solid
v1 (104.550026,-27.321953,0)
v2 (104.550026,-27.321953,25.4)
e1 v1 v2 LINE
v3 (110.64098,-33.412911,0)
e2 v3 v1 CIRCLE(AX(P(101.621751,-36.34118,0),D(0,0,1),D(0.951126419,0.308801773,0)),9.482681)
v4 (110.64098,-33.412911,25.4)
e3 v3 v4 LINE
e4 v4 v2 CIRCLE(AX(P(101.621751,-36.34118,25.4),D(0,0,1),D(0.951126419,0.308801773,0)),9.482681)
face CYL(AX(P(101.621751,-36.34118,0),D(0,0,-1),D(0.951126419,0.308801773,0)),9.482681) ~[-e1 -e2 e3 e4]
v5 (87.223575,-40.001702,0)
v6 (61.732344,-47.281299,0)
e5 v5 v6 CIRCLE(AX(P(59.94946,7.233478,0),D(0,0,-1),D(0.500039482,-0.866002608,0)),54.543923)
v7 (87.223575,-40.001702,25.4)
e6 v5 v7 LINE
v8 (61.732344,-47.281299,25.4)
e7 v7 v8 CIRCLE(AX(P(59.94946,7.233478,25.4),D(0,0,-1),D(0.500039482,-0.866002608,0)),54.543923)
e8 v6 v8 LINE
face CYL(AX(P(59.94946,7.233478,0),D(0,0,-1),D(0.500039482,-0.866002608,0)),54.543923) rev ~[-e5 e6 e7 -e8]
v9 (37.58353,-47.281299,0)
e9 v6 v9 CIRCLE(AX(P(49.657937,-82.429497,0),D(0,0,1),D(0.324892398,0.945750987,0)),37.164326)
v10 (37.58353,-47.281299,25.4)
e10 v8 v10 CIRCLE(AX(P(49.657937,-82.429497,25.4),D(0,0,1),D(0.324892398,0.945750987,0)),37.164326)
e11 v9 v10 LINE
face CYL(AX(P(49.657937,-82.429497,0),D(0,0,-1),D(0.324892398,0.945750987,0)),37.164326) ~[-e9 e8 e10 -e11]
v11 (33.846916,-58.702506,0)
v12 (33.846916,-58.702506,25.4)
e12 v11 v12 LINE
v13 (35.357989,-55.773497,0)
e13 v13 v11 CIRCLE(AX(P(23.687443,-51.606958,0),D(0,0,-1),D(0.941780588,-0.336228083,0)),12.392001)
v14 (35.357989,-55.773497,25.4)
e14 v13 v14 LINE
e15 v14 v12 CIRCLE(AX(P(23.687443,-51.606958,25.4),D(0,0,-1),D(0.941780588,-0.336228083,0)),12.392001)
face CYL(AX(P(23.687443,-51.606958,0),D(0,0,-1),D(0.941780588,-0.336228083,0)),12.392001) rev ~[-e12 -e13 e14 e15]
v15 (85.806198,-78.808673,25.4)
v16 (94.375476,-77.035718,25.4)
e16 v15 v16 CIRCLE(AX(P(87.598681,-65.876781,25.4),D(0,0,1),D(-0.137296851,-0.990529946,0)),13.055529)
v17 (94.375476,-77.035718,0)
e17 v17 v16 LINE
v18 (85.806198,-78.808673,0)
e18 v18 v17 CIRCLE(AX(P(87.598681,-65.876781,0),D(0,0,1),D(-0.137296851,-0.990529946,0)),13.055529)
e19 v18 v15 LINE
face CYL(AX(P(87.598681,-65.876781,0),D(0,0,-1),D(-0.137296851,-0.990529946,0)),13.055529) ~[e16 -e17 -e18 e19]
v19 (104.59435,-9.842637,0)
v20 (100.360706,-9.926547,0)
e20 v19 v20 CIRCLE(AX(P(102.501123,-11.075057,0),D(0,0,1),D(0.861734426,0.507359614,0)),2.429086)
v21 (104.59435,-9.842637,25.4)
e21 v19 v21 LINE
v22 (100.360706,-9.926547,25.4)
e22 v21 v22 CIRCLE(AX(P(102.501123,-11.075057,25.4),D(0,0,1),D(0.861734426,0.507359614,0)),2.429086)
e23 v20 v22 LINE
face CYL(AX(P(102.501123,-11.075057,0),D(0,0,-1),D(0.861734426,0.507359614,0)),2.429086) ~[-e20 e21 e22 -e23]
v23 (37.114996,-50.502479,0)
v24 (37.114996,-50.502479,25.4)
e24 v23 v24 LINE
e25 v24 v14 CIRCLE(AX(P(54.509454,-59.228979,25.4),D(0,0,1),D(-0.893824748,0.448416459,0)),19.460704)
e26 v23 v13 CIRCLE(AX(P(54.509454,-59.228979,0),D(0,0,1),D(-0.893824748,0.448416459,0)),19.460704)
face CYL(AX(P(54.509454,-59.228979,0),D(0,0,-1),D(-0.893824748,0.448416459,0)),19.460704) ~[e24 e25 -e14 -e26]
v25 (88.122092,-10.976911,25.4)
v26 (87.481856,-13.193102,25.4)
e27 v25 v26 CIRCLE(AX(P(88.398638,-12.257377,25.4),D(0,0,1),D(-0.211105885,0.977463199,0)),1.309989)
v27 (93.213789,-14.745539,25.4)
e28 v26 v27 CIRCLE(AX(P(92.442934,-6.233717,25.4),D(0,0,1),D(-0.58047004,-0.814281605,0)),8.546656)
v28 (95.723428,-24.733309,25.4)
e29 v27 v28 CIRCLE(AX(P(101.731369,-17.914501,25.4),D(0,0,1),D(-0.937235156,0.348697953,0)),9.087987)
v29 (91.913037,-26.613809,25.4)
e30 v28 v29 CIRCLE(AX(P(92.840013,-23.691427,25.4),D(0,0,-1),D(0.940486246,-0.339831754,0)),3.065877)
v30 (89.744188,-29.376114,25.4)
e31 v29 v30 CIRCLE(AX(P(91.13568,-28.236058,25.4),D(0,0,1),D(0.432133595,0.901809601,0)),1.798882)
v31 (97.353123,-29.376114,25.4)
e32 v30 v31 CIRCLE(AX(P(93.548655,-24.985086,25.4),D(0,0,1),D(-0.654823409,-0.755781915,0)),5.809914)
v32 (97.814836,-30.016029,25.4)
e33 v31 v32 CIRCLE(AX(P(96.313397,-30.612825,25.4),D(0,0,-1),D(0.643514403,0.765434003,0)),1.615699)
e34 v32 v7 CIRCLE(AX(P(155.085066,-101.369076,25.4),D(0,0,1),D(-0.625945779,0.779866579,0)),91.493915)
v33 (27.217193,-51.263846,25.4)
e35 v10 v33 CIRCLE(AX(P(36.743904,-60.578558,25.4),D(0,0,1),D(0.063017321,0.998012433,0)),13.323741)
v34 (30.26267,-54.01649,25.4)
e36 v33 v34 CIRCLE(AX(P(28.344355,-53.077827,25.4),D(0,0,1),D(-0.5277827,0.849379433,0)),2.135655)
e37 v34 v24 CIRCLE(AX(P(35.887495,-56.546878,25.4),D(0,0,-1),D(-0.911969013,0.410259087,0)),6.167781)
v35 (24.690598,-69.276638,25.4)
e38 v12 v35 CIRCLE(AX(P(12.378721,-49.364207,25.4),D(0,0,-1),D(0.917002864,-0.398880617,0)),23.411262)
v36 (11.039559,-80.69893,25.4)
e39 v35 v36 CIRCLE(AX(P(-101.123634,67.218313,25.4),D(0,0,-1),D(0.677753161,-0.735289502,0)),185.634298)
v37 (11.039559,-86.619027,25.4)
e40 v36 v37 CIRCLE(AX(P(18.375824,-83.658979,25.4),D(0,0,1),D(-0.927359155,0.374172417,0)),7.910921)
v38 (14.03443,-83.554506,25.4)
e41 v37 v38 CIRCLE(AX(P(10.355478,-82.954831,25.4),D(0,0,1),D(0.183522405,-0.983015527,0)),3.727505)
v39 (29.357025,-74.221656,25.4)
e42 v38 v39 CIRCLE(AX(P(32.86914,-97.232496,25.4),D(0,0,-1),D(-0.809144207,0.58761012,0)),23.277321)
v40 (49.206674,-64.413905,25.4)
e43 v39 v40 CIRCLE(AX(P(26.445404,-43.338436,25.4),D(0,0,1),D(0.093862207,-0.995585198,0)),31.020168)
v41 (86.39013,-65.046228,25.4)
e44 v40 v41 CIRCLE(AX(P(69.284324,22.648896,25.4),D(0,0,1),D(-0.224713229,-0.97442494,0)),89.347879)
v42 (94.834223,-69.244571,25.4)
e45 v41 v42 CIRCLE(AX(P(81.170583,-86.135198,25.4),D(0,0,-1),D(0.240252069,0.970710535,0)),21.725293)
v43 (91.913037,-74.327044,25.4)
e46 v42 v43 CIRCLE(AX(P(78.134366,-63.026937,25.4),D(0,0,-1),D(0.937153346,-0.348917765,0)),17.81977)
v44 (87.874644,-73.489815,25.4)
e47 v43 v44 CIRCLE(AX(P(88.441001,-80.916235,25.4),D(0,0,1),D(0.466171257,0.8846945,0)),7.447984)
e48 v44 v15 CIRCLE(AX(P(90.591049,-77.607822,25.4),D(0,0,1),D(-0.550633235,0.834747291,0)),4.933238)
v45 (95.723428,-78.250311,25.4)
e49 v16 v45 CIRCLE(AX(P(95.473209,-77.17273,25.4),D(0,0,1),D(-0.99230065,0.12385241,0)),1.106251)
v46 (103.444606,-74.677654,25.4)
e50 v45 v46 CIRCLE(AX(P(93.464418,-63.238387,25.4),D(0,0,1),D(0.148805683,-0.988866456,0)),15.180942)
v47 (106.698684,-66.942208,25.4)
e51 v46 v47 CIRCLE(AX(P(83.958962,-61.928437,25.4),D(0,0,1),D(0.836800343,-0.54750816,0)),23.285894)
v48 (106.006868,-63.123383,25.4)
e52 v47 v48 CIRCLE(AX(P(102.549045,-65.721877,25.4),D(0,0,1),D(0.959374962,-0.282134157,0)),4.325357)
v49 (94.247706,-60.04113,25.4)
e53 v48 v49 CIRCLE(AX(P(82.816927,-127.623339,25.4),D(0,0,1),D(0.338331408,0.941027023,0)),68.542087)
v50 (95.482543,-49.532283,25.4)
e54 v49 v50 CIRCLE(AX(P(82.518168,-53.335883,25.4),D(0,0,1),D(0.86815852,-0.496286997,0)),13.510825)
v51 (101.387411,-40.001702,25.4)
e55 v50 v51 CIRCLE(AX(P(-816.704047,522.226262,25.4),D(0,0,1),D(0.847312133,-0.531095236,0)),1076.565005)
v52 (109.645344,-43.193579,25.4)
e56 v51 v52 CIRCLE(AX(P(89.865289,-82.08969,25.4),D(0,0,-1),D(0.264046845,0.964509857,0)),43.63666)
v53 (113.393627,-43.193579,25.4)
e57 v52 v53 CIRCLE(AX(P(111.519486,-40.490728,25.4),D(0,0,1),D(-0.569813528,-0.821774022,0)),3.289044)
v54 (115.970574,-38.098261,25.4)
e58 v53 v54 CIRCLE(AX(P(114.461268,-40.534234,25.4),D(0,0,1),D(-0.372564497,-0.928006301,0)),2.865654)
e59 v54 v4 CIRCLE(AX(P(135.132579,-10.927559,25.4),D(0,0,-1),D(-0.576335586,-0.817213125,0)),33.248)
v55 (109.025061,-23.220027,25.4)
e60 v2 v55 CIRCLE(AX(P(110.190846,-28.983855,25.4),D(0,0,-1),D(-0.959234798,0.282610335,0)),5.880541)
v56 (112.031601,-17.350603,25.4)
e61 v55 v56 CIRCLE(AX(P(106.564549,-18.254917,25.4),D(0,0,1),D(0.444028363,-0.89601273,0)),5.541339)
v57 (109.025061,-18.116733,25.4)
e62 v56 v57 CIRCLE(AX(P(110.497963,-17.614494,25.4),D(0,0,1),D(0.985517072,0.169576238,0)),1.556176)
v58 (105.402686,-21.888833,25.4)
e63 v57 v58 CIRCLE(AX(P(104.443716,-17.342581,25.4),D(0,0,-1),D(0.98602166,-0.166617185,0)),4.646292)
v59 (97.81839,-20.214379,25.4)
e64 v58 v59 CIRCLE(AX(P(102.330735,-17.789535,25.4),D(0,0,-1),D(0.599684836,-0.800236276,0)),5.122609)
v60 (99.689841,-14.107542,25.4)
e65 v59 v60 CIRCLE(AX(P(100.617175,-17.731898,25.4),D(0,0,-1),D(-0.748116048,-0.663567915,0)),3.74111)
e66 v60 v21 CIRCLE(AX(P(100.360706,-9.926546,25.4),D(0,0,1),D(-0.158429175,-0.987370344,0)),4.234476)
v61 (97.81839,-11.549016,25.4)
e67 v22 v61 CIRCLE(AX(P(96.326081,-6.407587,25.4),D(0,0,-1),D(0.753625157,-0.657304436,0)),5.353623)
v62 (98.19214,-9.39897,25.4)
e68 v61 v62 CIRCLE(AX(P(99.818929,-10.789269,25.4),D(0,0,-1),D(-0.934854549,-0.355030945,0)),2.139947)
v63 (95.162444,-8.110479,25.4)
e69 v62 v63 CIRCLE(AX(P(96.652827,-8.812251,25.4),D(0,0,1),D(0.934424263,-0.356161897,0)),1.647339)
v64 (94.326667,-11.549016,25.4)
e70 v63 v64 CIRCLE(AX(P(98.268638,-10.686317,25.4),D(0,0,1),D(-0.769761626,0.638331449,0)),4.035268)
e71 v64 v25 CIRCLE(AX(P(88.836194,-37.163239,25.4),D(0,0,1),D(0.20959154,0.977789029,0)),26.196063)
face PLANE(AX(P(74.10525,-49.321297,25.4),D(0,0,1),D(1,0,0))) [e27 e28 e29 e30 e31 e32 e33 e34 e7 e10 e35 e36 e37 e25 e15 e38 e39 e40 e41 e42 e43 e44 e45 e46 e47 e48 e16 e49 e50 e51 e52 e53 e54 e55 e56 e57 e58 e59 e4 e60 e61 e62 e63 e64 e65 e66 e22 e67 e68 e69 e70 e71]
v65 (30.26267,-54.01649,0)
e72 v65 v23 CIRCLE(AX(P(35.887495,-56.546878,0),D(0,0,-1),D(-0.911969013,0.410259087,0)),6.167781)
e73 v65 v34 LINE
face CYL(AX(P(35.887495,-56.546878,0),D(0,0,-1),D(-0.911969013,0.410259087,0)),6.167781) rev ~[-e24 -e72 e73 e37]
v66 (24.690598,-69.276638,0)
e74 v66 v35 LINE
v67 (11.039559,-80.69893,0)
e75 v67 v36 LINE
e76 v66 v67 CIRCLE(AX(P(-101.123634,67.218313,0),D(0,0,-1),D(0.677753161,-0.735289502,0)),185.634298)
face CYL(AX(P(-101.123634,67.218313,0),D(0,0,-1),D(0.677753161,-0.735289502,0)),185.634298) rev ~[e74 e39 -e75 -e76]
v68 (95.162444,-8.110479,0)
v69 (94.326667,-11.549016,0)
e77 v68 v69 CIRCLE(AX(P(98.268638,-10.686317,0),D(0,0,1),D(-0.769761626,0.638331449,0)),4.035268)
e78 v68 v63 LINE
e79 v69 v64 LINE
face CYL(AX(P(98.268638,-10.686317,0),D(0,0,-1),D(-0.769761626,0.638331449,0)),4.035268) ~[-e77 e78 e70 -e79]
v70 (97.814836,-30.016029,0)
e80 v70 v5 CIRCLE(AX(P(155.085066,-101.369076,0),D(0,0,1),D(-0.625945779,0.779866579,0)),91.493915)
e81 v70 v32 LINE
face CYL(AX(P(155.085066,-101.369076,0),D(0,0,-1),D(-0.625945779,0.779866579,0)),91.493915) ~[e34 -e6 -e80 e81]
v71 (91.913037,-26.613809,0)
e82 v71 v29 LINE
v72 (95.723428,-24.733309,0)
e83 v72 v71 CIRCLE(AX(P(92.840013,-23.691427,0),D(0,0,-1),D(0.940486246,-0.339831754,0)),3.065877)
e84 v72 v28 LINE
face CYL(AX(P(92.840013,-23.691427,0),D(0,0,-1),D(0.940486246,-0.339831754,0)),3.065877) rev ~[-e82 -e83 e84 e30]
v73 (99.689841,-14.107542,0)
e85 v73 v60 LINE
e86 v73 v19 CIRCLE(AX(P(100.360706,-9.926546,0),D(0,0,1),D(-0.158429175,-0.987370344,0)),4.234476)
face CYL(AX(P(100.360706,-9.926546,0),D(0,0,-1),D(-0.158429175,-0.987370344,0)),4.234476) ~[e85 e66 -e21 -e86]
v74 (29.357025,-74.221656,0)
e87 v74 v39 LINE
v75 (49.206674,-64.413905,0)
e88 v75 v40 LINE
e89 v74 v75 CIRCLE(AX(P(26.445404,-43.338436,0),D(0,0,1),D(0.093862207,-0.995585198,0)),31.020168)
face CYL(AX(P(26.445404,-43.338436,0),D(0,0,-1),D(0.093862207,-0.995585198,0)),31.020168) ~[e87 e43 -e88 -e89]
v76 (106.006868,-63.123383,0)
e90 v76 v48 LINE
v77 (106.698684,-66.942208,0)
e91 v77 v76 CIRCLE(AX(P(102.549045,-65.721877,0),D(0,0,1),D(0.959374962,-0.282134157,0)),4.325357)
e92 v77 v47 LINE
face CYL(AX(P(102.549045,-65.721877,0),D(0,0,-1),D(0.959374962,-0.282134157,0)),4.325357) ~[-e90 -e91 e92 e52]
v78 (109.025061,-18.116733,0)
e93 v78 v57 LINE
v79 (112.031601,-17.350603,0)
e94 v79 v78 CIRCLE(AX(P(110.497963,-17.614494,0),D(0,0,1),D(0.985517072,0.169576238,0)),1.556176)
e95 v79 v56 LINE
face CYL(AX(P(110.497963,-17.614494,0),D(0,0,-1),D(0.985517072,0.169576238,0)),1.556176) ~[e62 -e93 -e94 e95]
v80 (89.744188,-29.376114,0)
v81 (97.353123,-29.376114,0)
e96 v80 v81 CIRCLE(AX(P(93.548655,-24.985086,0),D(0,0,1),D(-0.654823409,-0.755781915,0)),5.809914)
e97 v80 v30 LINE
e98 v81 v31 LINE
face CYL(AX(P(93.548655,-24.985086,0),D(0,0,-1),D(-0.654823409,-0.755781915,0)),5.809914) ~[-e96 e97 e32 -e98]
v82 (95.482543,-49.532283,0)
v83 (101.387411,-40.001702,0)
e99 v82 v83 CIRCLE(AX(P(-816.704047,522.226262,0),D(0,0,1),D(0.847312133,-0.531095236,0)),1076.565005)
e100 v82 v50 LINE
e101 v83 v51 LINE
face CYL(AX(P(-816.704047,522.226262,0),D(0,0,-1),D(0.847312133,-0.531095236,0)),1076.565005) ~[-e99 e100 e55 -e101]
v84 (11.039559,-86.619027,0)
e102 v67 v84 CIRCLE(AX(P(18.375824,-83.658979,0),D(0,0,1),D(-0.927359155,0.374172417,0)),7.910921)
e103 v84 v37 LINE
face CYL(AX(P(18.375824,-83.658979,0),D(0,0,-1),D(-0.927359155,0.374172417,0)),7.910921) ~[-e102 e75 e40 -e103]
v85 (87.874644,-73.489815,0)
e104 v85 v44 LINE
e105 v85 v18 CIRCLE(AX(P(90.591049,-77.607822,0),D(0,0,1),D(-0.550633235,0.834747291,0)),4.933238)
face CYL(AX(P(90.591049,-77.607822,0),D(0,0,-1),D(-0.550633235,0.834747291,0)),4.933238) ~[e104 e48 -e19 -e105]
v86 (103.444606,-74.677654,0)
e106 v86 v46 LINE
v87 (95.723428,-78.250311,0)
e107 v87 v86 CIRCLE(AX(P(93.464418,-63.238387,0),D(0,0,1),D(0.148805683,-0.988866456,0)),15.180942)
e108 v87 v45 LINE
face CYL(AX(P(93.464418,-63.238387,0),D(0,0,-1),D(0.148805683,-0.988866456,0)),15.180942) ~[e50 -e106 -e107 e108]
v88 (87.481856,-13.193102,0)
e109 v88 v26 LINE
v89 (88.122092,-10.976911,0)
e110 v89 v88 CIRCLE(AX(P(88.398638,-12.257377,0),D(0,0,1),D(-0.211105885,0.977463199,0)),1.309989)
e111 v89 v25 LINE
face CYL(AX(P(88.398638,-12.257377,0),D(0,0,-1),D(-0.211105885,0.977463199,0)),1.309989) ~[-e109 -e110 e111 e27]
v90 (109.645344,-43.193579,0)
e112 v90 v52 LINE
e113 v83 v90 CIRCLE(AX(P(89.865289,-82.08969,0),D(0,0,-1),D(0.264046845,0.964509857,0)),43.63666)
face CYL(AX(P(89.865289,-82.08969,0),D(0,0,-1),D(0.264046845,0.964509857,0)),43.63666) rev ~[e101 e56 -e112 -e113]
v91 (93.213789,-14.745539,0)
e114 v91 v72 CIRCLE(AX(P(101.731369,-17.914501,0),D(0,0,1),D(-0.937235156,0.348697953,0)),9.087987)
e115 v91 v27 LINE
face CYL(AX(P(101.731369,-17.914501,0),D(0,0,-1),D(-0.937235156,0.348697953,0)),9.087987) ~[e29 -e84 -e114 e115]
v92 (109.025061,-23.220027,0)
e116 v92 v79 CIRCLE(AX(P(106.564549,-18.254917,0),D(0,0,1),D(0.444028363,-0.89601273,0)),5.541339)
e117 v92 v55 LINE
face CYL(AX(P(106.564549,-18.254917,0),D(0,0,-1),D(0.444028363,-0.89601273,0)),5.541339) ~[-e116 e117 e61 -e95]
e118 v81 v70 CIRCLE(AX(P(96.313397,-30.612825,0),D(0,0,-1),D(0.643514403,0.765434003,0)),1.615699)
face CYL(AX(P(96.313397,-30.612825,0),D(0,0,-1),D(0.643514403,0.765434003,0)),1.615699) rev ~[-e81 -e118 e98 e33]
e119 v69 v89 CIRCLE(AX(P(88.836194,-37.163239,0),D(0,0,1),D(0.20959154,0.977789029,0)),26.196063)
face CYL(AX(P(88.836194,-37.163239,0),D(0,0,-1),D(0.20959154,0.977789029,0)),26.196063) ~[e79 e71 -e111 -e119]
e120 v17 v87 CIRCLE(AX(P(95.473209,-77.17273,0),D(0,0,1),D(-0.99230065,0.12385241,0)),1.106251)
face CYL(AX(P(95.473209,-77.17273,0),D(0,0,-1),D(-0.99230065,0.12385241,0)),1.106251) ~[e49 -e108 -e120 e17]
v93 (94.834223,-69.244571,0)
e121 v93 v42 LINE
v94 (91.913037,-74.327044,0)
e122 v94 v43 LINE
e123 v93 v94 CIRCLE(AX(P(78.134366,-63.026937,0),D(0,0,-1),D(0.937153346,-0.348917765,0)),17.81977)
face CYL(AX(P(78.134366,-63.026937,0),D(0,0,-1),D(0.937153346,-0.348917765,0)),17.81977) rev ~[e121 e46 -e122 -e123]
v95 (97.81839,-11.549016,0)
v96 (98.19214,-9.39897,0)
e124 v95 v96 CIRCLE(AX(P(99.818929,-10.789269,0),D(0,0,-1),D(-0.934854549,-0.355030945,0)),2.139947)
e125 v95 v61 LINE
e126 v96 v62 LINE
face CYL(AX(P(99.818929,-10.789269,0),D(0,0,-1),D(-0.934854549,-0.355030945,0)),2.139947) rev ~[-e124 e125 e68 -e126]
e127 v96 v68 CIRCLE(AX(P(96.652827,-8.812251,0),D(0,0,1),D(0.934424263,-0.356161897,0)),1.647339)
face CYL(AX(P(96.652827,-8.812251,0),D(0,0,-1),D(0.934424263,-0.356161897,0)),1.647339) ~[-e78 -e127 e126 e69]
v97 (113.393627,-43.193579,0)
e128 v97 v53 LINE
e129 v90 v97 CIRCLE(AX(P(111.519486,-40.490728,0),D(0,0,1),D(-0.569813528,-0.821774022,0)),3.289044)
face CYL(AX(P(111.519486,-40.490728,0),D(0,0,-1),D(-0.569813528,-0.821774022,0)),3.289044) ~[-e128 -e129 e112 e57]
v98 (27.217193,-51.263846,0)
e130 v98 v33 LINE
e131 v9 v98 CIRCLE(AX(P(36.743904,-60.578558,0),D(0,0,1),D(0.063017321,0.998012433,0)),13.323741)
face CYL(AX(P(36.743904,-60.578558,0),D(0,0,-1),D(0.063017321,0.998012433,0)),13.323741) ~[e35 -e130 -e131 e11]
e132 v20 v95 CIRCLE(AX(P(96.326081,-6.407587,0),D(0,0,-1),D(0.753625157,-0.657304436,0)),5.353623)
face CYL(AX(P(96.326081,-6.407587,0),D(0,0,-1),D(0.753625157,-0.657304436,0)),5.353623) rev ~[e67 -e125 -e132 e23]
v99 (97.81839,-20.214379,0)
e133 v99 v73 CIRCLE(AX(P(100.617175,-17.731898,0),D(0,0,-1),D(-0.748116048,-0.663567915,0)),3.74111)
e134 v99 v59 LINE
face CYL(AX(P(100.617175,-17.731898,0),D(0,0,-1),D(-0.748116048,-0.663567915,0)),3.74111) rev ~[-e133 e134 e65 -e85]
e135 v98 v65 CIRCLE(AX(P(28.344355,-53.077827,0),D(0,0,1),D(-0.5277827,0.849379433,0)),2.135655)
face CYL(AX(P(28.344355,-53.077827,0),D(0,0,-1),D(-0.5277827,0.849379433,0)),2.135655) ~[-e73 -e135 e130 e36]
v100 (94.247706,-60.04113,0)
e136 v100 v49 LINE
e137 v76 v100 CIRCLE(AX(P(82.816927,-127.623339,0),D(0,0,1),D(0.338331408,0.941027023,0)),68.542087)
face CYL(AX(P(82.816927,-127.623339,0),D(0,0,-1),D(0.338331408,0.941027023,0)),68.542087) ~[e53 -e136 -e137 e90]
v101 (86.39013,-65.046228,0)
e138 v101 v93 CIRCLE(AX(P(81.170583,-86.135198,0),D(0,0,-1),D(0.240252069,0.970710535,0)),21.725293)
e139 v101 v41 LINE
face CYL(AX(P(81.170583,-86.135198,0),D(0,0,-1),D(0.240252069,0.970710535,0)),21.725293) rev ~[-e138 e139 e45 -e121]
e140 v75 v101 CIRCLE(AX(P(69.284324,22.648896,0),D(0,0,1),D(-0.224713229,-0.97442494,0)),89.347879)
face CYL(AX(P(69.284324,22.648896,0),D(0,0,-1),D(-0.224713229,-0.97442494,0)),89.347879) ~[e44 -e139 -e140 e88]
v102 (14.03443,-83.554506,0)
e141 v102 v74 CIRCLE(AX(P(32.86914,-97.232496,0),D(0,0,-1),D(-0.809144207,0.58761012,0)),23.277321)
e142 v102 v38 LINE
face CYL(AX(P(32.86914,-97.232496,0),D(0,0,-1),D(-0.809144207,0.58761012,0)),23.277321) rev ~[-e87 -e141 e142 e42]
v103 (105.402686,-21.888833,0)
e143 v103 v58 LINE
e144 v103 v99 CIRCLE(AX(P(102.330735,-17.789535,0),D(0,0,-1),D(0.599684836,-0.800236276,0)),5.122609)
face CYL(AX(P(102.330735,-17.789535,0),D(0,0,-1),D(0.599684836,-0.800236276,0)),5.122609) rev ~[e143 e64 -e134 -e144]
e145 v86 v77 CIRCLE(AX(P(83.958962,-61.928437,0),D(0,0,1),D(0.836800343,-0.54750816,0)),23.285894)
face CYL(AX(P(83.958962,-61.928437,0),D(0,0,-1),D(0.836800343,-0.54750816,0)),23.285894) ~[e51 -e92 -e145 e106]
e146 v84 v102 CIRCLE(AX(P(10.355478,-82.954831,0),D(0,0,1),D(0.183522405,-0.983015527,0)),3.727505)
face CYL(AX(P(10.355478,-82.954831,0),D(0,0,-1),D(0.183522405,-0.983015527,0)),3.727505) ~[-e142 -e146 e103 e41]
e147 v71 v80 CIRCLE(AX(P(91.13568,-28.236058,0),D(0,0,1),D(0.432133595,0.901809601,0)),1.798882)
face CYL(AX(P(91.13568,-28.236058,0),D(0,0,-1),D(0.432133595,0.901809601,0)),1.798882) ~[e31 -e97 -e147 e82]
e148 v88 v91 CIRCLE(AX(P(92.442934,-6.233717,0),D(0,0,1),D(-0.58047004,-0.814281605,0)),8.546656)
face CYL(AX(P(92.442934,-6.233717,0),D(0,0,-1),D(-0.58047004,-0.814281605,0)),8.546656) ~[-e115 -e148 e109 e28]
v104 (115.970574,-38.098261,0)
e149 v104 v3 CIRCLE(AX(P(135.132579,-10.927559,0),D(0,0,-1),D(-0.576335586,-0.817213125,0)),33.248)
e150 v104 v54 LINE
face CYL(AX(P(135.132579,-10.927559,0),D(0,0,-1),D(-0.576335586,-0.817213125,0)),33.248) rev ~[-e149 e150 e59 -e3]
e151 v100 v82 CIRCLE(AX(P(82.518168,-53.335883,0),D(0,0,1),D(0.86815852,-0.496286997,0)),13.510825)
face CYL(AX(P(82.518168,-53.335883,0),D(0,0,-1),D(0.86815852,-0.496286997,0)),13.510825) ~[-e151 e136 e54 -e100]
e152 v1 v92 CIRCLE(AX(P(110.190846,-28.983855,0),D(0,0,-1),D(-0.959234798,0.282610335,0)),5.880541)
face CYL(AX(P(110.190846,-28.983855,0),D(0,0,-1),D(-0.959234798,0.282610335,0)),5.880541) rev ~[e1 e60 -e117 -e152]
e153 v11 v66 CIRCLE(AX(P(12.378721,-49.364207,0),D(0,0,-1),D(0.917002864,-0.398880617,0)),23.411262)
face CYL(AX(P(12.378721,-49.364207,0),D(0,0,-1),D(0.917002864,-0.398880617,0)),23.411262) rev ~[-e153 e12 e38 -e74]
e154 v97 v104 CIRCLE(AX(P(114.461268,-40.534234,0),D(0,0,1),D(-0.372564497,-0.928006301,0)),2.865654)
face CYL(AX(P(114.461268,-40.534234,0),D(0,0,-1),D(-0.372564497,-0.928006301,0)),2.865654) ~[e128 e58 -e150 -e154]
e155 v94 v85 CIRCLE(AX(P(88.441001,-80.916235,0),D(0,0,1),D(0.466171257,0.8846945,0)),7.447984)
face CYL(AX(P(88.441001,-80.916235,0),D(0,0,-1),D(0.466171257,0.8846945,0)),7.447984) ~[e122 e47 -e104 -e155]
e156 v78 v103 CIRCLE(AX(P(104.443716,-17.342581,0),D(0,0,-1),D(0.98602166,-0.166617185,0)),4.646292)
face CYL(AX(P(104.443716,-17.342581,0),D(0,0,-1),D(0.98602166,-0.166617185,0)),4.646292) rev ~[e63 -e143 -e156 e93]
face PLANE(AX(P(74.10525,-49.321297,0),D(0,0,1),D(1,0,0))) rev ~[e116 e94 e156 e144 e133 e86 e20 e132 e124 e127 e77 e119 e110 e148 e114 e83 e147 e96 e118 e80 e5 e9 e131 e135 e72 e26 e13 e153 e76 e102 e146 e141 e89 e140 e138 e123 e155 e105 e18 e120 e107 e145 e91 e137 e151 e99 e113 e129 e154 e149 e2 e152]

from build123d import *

# Parameters (mm, degrees)
F1_DEPTH = 25.4


with BuildPart() as f1:
    # F0 (on Top) → F1 (new body)
    with BuildSketch(Plane.XY):
        with BuildLine():
            ThreePointArc((35.357989, -55.773497), (34.700263, -57.288462), (33.846916, -58.702506))
            ThreePointArc((33.846916, -58.702506), (30.076924, -64.689377), (24.690598, -69.276638))
            ThreePointArc((24.690598, -69.276638), (18.00206, -75.151493), (11.039559, -80.69893))
            ThreePointArc((11.039559, -80.69893), (10.464903, -83.658978), (11.039559, -86.619027))
            ThreePointArc((11.039559, -86.619027), (13.021343, -85.560107), (14.03443, -83.554506))
            ThreePointArc((14.03443, -83.554506), (20.760438, -77.35253), (29.357025, -74.221656))
            ThreePointArc((29.357025, -74.221656), (40.186668, -71.149018), (49.206674, -64.413905))
            ThreePointArc((49.206674, -64.413905), (67.765139, -66.686066), (86.39013, -65.046228))
            ThreePointArc((86.39013, -65.046228), (90.842719, -66.681712), (94.834223, -69.244571))
            ThreePointArc((94.834223, -69.244571), (93.58406, -71.906754), (91.913037, -74.327044))
            ThreePointArc((91.913037, -74.327044), (89.952947, -73.623328), (87.874644, -73.489815))
            ThreePointArc((87.874644, -73.489815), (85.993248, -75.819788), (85.806198, -78.808673))
            ThreePointArc((85.806198, -78.808673), (90.243806, -78.661543), (94.375476, -77.035718))
            ThreePointArc((94.375476, -77.035718), (94.732683, -77.994564), (95.723428, -78.250311))
            ThreePointArc((95.723428, -78.250311), (99.839405, -77.015924), (103.444606, -74.677654))
            ThreePointArc((103.444606, -74.677654), (105.422994, -70.957733), (106.698684, -66.942208))
            ThreePointArc((106.698684, -66.942208), (106.805126, -64.950848), (106.006868, -63.123383))
            ThreePointArc((106.006868, -63.123383), (100.195754, -61.321046), (94.247706, -60.04113))
            ThreePointArc((94.247706, -60.04113), (95.936674, -54.912618), (95.482543, -49.532283))
            ThreePointArc((95.482543, -49.532283), (98.447384, -44.774679), (101.387411, -40.001702))
            ThreePointArc((101.387411, -40.001702), (105.597536, -41.38767), (109.645344, -43.193579))
            ThreePointArc((109.645344, -43.193579), (111.519486, -43.779772), (113.393627, -43.193579))
            ThreePointArc((113.393627, -43.193579), (117.01848, -41.827539), (115.970574, -38.098261))
            ThreePointArc((115.970574, -38.098261), (113.180417, -35.898183), (110.64098, -33.412911))
            ThreePointArc((110.64098, -33.412911), (108.327022, -29.635914), (104.550026, -27.321953))
            ThreePointArc((104.550026, -27.321953), (106.217319, -24.648898), (109.025061, -23.220027))
            ThreePointArc((109.025061, -23.220027), (111.496496, -20.781246), (112.031601, -17.350603))
            ThreePointArc((112.031601, -17.350603), (110.113696, -16.106507), (109.025061, -18.116733))
            ThreePointArc((109.025061, -18.116733), (107.794978, -20.560822), (105.402686, -21.888833))
            ThreePointArc((105.402686, -21.888833), (101.226365, -22.791684), (97.81839, -20.214379))
            ThreePointArc((97.81839, -20.214379), (97.040255, -16.635745), (99.689841, -14.107542))
            ThreePointArc((99.689841, -14.107542), (103.139321, -13.121868), (104.59435, -9.842637))
            ThreePointArc((104.59435, -9.842637), (102.452988, -8.646448), (100.360706, -9.926547))
            ThreePointArc((100.360706, -9.926547), (99.206159, -10.920505), (97.81839, -11.549016))
            ThreePointArc((97.81839, -11.549016), (97.7106, -10.42277), (98.19214, -9.39897))
            ThreePointArc((98.19214, -9.39897), (97.297537, -7.296311), (95.162444, -8.110479))
            ThreePointArc((95.162444, -8.110479), (94.347536, -9.733247), (94.326667, -11.549016))
            ThreePointArc((94.326667, -11.549016), (91.24145, -11.077832), (88.122092, -10.976911))
            ThreePointArc((88.122092, -10.976911), (87.140114, -11.893801), (87.481856, -13.193102))
            ThreePointArc((87.481856, -13.193102), (90.208654, -14.483161), (93.213789, -14.745539))
            ThreePointArc((93.213789, -14.745539), (92.91737, -20.129205), (95.723428, -24.733309))
            ThreePointArc((95.723428, -24.733309), (94.196841, -26.440721), (91.913037, -26.613809))
            ThreePointArc((91.913037, -26.613809), (89.720804, -27.125156), (89.744188, -29.376114))
            ThreePointArc((89.744188, -29.376114), (93.548656, -30.795), (97.353123, -29.376114))
            ThreePointArc((97.353123, -29.376114), (97.623646, -29.667451), (97.814836, -30.016029))
            ThreePointArc((97.814836, -30.016029), (92.320304, -34.797902), (87.223575, -40.001702))
            ThreePointArc((87.223575, -40.001702), (74.926958, -45.213773), (61.732344, -47.281299))
            ThreePointArc((61.732344, -47.281299), (49.657937, -45.265171), (37.58353, -47.281299))
            ThreePointArc((37.58353, -47.281299), (31.965668, -48.141093), (27.217193, -51.263846))
            ThreePointArc((27.217193, -51.263846), (26.912313, -54.662213), (30.26267, -54.01649))
            ThreePointArc((30.26267, -54.01649), (33.073036, -51.058678), (37.114996, -50.502479))
            ThreePointArc((37.114996, -50.502479), (36.047411, -53.074961), (35.357989, -55.773497))
        make_face()
    extrude(amount=F1_DEPTH)


solid = f1.part
